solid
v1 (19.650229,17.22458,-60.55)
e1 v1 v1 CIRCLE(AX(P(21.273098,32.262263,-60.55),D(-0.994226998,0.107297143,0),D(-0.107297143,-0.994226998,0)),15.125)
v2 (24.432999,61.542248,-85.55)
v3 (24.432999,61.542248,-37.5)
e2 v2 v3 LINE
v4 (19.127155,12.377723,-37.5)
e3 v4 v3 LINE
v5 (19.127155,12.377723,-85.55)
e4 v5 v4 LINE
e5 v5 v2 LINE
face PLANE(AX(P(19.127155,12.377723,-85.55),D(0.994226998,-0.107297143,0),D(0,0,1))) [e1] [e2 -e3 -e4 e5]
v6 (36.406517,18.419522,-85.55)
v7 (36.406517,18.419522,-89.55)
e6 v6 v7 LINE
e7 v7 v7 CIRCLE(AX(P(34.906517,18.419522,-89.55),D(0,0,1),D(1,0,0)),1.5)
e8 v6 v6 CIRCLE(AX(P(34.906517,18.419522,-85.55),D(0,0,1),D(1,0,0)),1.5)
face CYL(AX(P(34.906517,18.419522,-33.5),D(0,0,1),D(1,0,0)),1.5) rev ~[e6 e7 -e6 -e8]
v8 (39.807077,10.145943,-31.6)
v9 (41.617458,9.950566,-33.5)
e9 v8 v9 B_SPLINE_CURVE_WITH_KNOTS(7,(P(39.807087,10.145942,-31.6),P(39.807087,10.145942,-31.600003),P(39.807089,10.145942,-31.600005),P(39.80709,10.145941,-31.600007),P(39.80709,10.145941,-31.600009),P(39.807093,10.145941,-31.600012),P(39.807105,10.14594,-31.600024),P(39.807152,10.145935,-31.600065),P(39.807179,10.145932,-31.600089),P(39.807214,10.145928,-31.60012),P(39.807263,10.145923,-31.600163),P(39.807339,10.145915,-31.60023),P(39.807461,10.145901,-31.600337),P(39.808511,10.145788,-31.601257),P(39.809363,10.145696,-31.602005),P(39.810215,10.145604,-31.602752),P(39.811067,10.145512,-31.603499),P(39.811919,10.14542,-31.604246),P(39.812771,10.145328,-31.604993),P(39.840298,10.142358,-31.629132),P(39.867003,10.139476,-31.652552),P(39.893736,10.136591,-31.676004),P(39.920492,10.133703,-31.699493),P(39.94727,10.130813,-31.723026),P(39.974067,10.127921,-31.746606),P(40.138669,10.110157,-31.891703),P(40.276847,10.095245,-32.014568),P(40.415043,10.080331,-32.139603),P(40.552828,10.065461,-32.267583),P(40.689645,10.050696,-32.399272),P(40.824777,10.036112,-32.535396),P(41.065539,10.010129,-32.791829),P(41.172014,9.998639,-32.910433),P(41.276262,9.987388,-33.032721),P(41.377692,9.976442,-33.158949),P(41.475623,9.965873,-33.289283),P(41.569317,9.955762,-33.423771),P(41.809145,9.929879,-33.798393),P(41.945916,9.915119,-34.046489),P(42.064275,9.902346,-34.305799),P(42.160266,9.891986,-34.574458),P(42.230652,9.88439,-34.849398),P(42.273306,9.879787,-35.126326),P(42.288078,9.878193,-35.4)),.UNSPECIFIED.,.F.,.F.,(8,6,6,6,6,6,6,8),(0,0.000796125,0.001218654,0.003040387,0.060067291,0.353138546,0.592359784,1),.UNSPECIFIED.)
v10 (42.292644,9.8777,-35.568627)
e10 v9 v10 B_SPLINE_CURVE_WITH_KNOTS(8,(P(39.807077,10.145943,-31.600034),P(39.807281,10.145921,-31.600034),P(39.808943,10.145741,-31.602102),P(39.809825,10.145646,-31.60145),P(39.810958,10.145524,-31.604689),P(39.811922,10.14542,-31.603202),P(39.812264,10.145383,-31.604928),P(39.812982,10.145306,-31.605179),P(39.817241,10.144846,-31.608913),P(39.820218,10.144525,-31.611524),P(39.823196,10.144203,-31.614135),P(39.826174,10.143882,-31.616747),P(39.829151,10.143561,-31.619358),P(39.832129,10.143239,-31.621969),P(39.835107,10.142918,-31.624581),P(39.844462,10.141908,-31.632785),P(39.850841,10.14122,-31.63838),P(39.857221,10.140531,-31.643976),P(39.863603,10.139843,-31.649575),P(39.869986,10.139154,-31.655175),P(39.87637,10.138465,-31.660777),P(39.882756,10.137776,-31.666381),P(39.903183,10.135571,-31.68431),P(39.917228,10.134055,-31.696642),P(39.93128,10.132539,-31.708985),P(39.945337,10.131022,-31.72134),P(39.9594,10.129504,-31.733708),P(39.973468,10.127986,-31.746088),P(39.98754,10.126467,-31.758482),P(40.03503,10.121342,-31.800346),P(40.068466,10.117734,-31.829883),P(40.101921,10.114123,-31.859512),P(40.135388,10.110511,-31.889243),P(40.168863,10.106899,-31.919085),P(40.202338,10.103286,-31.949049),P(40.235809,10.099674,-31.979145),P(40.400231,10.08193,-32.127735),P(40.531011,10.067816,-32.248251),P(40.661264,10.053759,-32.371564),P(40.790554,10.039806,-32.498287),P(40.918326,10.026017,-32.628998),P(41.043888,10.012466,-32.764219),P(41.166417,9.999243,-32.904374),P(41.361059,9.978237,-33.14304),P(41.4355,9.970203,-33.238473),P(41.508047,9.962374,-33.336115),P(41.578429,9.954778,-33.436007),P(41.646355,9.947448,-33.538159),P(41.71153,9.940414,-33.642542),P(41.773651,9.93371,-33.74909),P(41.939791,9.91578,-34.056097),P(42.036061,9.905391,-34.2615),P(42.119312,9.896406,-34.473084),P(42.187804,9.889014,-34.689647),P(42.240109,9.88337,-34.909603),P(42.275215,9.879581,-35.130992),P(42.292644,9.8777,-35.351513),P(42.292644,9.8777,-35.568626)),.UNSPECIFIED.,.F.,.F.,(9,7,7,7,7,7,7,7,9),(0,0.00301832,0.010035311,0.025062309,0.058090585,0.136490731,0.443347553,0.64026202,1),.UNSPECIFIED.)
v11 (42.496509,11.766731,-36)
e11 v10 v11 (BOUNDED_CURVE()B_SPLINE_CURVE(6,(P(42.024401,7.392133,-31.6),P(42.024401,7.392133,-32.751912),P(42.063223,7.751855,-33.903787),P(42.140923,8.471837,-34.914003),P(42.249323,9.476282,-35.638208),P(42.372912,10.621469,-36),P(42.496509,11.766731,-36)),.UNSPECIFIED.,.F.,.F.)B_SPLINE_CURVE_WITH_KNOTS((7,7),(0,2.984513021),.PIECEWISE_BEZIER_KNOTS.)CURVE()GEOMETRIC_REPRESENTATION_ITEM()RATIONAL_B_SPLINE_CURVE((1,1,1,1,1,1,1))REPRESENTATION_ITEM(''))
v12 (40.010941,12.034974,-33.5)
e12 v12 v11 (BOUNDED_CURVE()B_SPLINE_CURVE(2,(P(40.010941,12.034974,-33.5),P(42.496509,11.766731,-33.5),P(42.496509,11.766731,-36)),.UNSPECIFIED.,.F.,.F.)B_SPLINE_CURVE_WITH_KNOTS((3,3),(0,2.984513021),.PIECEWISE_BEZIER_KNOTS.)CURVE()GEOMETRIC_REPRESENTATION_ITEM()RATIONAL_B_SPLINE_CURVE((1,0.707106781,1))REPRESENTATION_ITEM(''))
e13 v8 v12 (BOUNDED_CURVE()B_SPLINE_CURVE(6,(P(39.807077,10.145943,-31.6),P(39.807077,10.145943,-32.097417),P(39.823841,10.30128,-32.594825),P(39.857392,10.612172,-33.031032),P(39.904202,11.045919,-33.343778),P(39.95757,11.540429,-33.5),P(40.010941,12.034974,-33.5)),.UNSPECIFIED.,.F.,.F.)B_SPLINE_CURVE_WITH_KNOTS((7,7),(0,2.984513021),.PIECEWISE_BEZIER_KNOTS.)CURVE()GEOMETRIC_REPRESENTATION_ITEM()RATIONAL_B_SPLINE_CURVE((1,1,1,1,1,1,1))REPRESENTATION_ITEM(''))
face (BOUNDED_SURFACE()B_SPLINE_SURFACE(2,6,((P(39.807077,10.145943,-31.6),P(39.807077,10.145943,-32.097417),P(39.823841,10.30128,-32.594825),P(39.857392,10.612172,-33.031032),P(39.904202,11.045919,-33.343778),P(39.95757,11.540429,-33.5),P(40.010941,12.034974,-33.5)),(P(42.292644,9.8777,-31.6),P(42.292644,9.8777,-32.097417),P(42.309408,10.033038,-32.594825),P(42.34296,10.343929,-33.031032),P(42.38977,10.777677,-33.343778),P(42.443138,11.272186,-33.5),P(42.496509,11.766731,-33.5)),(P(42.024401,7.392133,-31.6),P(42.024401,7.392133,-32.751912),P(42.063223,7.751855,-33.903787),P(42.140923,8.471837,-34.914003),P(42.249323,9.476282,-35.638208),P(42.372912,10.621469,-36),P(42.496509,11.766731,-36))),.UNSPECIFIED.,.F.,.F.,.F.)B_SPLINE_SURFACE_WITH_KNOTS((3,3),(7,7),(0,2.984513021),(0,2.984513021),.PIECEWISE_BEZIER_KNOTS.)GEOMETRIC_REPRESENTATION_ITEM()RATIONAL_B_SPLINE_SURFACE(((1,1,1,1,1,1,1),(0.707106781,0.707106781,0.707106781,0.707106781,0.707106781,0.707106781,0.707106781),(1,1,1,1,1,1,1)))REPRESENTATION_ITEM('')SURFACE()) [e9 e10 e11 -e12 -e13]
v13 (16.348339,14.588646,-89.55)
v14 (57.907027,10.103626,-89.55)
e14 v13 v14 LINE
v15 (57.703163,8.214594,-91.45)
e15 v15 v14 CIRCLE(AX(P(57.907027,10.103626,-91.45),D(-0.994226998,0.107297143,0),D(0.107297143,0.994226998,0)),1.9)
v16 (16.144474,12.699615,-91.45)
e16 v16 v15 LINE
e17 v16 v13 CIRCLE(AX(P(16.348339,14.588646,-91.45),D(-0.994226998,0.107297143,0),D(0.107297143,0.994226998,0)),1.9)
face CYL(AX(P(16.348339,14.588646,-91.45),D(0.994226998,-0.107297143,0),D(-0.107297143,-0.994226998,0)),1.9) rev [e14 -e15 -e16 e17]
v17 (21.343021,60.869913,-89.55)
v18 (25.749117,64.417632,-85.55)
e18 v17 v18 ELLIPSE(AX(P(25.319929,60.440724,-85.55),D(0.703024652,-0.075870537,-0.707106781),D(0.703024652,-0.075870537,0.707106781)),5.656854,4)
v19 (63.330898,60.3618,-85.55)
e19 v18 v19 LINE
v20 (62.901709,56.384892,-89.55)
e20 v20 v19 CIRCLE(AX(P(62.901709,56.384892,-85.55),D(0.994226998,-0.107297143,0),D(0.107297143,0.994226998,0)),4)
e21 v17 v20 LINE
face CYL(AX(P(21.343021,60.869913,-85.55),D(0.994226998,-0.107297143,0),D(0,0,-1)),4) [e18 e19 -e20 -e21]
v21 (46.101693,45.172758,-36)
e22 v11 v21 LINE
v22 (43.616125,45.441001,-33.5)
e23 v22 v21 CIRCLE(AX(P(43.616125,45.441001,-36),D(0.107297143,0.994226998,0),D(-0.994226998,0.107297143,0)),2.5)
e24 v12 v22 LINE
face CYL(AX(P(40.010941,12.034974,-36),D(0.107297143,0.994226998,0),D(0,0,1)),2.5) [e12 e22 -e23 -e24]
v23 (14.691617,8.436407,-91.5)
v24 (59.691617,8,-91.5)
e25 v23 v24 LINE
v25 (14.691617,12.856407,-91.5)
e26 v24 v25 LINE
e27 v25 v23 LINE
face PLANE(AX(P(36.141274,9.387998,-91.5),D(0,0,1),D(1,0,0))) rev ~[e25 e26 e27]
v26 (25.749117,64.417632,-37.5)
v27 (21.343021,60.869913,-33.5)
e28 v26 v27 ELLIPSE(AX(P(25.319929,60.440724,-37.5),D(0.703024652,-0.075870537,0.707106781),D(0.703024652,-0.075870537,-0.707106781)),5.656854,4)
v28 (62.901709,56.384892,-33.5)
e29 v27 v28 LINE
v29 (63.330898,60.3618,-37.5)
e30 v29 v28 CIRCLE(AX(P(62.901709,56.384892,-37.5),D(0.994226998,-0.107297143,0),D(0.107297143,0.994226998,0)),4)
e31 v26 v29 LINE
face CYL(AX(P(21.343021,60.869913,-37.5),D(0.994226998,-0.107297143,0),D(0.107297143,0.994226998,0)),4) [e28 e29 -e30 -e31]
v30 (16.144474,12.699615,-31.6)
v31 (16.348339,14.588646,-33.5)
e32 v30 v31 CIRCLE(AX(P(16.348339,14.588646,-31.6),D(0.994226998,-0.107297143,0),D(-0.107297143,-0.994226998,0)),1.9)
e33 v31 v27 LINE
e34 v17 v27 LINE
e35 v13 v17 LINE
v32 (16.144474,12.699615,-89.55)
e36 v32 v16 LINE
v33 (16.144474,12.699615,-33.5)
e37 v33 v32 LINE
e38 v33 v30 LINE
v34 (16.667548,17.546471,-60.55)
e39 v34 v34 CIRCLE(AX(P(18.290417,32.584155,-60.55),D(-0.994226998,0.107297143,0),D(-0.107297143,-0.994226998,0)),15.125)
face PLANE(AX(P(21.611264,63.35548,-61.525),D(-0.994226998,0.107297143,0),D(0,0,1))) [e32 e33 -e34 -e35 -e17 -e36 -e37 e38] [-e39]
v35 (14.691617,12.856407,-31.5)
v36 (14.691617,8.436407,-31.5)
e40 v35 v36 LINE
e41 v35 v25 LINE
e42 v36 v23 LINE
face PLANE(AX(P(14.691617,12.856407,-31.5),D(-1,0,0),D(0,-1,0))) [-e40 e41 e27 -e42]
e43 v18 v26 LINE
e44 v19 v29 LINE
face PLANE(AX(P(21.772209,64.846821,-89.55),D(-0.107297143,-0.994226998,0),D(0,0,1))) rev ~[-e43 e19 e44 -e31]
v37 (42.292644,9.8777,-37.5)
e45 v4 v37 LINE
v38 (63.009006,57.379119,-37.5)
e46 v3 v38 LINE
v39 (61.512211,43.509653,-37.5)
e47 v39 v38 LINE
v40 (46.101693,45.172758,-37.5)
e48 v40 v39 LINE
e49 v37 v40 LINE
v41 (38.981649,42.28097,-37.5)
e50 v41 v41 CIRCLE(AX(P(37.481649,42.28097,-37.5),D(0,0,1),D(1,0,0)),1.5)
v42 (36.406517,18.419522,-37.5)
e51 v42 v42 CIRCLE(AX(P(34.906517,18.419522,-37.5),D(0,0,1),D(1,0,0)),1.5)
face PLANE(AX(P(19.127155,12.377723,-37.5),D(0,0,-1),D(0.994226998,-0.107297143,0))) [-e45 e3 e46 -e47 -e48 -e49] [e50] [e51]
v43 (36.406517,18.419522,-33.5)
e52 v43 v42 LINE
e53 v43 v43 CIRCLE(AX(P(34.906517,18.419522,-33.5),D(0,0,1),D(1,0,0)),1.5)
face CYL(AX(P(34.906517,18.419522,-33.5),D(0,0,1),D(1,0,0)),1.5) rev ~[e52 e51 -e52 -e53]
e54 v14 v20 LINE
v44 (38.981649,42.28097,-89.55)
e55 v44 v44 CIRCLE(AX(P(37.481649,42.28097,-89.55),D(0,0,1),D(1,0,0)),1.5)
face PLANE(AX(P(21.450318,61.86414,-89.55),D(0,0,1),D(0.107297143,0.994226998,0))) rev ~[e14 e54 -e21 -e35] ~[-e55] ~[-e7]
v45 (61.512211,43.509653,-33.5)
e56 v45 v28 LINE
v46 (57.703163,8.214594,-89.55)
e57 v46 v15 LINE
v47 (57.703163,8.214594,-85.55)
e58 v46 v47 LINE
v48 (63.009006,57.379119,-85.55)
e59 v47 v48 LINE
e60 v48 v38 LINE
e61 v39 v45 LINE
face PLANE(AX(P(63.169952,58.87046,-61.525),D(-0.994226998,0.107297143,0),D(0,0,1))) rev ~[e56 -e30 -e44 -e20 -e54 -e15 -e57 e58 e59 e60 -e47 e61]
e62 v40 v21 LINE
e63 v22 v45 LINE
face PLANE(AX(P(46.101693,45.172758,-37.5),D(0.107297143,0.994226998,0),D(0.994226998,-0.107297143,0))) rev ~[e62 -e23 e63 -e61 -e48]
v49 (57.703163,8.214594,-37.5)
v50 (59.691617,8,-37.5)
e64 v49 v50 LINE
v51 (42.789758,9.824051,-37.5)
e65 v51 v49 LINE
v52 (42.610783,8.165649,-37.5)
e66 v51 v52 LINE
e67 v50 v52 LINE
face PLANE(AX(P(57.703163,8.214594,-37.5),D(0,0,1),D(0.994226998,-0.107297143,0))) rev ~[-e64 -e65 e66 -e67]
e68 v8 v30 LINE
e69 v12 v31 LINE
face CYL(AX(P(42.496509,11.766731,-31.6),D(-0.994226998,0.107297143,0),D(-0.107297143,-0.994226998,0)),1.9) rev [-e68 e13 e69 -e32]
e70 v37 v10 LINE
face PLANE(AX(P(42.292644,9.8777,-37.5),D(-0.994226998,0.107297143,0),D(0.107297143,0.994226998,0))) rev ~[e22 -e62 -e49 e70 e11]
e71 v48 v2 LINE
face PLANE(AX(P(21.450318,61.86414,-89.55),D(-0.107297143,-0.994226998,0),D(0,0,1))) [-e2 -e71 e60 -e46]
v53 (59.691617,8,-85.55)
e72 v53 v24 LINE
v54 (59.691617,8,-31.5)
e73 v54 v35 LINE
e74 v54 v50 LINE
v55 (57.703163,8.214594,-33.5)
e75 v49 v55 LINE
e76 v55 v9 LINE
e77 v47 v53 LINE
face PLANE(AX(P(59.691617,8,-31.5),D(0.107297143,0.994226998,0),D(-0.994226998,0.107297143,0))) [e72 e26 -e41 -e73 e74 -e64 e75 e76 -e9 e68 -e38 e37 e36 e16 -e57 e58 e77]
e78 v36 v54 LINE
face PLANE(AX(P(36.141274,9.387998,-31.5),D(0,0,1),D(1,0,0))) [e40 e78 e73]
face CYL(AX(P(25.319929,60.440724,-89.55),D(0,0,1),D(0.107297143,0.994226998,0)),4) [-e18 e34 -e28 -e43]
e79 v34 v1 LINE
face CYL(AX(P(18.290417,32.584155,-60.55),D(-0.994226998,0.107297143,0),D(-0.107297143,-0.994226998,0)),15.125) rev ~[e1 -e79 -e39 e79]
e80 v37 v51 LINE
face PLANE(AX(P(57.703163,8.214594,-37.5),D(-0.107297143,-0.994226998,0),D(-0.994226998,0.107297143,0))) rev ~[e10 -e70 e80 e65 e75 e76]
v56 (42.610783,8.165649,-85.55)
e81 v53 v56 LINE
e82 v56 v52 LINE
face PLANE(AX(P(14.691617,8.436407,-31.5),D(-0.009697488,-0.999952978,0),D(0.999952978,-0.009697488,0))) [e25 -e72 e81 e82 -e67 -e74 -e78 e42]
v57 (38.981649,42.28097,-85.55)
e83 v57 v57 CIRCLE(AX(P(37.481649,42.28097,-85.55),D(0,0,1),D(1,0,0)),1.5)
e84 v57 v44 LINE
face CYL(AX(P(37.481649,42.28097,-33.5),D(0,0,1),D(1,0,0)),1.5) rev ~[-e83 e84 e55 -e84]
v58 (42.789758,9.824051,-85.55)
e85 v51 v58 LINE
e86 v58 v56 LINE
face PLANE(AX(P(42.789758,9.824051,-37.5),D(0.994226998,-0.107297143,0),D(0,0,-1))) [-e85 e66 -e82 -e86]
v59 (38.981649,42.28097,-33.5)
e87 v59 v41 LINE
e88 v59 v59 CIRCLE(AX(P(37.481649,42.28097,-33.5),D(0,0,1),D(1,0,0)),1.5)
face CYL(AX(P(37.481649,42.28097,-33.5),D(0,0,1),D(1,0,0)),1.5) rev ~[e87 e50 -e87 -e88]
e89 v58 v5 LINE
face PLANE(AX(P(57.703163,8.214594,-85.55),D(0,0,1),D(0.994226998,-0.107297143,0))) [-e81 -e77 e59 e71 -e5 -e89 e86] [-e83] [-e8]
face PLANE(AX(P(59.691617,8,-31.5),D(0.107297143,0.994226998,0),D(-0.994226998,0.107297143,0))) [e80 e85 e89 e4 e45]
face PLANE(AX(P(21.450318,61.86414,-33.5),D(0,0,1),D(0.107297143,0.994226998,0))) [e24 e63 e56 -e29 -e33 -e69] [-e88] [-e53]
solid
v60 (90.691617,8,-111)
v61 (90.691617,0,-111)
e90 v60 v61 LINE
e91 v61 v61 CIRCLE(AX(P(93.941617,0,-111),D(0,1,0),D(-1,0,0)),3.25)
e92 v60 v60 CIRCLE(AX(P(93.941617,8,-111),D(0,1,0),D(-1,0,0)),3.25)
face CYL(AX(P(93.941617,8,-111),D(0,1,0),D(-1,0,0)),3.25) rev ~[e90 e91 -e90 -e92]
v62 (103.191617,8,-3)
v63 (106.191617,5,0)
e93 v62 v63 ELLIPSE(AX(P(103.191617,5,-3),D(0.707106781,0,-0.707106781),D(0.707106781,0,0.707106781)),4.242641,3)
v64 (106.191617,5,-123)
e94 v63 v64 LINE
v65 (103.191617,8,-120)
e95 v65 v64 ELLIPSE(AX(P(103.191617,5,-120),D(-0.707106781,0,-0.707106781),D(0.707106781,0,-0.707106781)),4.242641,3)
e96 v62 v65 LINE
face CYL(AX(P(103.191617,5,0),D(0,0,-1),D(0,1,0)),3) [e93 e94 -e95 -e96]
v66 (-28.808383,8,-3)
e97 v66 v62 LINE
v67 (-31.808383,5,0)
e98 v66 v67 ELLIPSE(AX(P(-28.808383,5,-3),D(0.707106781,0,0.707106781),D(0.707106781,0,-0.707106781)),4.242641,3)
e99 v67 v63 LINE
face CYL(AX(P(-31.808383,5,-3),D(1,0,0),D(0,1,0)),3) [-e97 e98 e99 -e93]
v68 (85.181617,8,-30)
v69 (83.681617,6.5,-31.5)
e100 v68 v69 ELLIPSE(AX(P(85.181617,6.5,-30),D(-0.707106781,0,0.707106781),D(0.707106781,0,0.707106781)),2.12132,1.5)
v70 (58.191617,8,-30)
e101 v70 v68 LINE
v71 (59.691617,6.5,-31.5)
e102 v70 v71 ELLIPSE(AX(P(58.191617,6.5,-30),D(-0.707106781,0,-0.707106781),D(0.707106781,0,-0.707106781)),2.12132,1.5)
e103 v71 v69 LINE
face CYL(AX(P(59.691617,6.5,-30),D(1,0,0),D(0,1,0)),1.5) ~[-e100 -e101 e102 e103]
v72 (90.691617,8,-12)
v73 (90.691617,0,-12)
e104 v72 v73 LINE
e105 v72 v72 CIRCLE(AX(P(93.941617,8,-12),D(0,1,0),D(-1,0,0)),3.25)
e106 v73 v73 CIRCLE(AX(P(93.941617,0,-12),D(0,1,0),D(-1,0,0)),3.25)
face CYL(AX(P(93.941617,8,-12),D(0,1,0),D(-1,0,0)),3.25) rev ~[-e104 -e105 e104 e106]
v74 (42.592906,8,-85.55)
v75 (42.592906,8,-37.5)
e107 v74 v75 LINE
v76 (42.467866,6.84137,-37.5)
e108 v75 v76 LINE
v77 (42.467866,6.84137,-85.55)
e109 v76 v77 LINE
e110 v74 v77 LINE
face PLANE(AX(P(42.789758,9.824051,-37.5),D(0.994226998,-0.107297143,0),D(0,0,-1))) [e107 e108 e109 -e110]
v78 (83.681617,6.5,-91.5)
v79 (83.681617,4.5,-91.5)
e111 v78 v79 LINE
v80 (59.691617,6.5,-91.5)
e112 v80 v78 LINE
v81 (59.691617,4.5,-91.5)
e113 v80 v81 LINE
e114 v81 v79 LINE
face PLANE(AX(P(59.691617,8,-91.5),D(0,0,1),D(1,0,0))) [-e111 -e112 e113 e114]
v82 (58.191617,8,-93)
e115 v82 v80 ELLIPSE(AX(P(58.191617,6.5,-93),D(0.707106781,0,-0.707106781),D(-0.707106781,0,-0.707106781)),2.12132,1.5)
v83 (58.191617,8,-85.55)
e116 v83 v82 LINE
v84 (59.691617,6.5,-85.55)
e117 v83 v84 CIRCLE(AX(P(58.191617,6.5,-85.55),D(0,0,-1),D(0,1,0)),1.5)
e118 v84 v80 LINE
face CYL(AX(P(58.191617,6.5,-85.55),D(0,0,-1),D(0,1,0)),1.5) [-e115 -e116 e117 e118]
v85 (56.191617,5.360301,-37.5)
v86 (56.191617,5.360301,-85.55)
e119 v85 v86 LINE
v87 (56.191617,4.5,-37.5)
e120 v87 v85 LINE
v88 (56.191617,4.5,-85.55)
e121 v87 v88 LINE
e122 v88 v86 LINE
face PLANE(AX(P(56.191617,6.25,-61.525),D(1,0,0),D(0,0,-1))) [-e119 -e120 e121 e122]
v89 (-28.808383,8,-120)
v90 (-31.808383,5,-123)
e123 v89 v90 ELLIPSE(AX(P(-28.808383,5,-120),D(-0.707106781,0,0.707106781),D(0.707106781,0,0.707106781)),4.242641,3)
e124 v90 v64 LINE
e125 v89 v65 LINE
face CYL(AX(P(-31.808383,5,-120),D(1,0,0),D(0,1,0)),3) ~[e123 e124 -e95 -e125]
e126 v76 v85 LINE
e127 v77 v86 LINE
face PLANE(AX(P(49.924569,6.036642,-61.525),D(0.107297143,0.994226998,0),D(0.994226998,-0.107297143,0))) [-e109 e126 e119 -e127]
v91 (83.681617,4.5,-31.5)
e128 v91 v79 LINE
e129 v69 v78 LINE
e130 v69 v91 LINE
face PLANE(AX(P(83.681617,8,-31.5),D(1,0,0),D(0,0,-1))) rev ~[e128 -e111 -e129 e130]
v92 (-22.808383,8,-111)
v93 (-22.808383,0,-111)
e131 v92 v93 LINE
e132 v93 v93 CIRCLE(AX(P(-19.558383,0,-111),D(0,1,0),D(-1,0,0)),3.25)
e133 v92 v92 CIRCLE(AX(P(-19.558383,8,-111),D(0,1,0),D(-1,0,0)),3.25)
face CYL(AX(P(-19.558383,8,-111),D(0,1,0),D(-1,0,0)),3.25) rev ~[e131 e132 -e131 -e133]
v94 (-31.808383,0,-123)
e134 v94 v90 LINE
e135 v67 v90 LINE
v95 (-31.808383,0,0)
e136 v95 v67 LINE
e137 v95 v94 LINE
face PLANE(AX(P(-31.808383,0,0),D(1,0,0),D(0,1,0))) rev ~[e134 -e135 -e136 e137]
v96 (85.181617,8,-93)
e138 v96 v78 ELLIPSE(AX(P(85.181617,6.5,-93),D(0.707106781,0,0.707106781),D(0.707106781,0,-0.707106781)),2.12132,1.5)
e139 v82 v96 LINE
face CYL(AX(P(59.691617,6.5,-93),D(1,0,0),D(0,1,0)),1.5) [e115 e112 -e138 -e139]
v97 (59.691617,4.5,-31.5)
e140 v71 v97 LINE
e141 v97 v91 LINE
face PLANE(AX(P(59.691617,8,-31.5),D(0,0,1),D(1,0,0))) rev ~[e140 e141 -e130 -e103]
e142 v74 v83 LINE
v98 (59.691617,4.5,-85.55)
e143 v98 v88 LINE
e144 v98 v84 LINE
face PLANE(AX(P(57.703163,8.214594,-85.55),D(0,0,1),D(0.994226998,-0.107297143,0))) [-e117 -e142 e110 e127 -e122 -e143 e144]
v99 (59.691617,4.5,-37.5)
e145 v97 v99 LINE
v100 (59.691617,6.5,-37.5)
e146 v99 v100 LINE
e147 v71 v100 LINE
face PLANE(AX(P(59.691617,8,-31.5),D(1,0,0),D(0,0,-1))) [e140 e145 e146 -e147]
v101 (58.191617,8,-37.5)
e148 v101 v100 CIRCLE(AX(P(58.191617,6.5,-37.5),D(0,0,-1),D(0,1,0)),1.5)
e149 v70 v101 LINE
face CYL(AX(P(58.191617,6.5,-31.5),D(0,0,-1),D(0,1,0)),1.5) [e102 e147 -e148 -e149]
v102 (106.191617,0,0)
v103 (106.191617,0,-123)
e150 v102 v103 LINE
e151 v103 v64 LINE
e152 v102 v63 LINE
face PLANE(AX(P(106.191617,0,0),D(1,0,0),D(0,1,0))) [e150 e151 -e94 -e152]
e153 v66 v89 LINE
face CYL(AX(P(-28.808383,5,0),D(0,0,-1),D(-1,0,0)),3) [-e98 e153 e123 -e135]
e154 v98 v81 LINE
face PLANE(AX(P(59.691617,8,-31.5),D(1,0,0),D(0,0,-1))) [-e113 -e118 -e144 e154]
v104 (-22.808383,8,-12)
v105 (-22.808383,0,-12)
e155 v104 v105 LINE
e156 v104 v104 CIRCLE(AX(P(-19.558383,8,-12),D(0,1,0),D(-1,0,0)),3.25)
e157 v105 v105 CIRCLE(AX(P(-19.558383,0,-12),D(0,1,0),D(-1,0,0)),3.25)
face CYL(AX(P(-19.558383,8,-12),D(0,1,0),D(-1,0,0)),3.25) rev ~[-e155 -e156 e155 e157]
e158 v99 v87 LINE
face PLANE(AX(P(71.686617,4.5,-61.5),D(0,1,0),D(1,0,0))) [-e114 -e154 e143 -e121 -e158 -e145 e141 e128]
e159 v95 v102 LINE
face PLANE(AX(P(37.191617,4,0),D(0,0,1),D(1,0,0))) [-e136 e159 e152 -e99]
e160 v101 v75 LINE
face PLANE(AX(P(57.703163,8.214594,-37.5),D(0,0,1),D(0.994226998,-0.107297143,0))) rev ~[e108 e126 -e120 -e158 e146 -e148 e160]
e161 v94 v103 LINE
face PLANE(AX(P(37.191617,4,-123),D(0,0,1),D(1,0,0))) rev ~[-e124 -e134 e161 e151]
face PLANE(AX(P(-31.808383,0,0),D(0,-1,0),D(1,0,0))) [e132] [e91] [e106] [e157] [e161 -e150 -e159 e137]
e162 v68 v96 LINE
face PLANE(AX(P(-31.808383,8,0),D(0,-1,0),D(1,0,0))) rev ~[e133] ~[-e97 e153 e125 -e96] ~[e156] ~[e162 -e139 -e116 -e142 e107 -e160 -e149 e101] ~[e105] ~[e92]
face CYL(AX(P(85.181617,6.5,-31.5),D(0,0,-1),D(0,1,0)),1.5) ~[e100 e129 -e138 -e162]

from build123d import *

# Parameters (mm, degrees)
SKETCH1_W           = 138
SKETCH1_H           = 8
BOSS_EXTRUDE1_DEPTH = 123
SKETCH2_R           = 3.25
CUT_EXTRUDE1_DEPTH  = 163.694989079
BOSS_EXTRUDE2_DEPTH = 60
BOSS_EXTRUDE3_DEPTH = 49.45
SKETCH6_R           = 1.5
CUT_EXTRUDE2_DEPTH  = 153.033158476
CUT_EXTRUDE3_DEPTH  = 4
SKETCH9_R           = 15.125
CUT_EXTRUDE4_DEPTH  = 3
SKETCH10_W          = 15
SKETCH10_H          = 48.05
CUT_EXTRUDE5_DEPTH  = 3
SKETCH11_W          = 56.05
SKETCH11_H          = 3
BOSS_EXTRUDE4_DEPTH = 41.8
SKETCH12_W          = 23.99
SKETCH12_H          = 60
CUT_EXTRUDE6_DEPTH  = 3.5
FILLET1_R           = 4
FILLET3_R           = 3
FILLET5_R           = 1.9
FILLET6_R           = 1.9
FILLET7_R           = 2.5
SKETCH13_W          = 2
SKETCH13_H          = 48.05
CUT_EXTRUDE7_DEPTH  = 3.5
SKETCH14_W          = 48.05
SKETCH14_H          = 3.5
CUT_EXTRUDE8_DEPTH  = 3.5
FILLET8_R           = 1.5


with BuildPart() as part:
    # Sketch1 → Boss-Extrude1 (new body)
    with BuildSketch(Plane.XY):
        with Locations((37.191616766, 4)):
            Rectangle(SKETCH1_W, SKETCH1_H)
    extrude(amount=-BOSS_EXTRUDE1_DEPTH)

    # Sketch2 → Cut-Extrude1 (cut, through all)
    with BuildSketch(Plane(origin=(0, 8, 0), x_dir=(1, 0, 0), z_dir=(0, 1, 0))):
        with Locations(Location((-19.558383234, 12, 0), (0, 0, 180))):
            Circle(SKETCH2_R)
        with Locations(Location((93.941616766, 12, 0), (0, 0, 180))):
            Circle(SKETCH2_R)
        with Locations(Location((93.941616766, 111, 0), (0, 0, 180))):
            Circle(SKETCH2_R)
        with Locations(Location((-19.558383234, 111, 0), (0, 0, 180))):
            Circle(SKETCH2_R)
    extrude(amount=-CUT_EXTRUDE1_DEPTH, mode=Mode.SUBTRACT)


with BuildPart() as body_2:
    # Sketch3 → Boss-Extrude2 (new body)
    with BuildSketch(Plane.XY.offset(-31.5)):
        Polygon((14.691616766, 8.436407474), (59.691616766, 8), (14.691616766, 12.856407474), align=None)
    extrude(amount=-BOSS_EXTRUDE2_DEPTH)

    # Sketch5 → Boss-Extrude3 (add)
    with BuildSketch(Plane(origin=(1.540632023, 14.275663932, 0), x_dir=(0.9942269978025435, -0.10729714274173967, 0), z_dir=(0.10729714274173965, 0.9942269978025434, 0))):
        Polygon((56.48863979, 33.5), (14.68863979, 33.5), (14.68863979, 89.55), (56.48863979, 89.55), (56.48863979, 85.55), (17.68863979, 85.55), (17.68863979, 37.5), (56.48863979, 37.5), align=None)
    extrude(amount=BOSS_EXTRUDE3_DEPTH)

    # Sketch6 → Cut-Extrude2 (cut, through all)
    with BuildSketch(Plane.XY.offset(-33.5)):
        with Locations((34.906517302, 18.41952228)):
            Circle(SKETCH6_R)
        with Locations((37.481648728, 42.280970227)):
            Circle(SKETCH6_R)
    extrude(amount=-CUT_EXTRUDE2_DEPTH, mode=Mode.SUBTRACT)

    # Sketch8 → Cut-Extrude3 (cut)
    with BuildSketch(Plane(origin=(0, 0, -37.5), x_dir=(-1, 0, 0), z_dir=(0, 0, -1))):
        Polygon((-57.703162771, 8.214594285), (-42.292644305, 9.877699998), (-46.101692872, 45.17275842), (-61.512211338, 43.509652707), align=None)
    extrude(amount=-CUT_EXTRUDE3_DEPTH, mode=Mode.SUBTRACT)

    # Sketch9 → Cut-Extrude4 (cut)
    with BuildSketch(Plane(origin=(14.60384224, -1.57604908, 0), x_dir=(0, 0, 1), z_dir=(-0.9942269978025434, 0.10729714274173965, 0))):
        with Locations(Location((-60.55, 34.358555907, 0), (0, 0, 270))):
            Circle(SKETCH9_R)
    extrude(amount=-CUT_EXTRUDE4_DEPTH, mode=Mode.SUBTRACT)


with BuildPart() as cut_extrude5_tool:
    # Sketch10 → Cut-Extrude5 (new body)
    with BuildSketch(Plane(origin=(1.540632023, 14.275663932, 0), x_dir=(0.9942269978025435, -0.10729714274173967, 0), z_dir=(0.10729714274173965, 0.9942269978025434, 0))):
        with Locations((48.98863979, 61.525)):
            Rectangle(SKETCH10_W, SKETCH10_H)
    extrude(amount=-CUT_EXTRUDE5_DEPTH)


with BuildPart() as part_1:
    add(part.part)

    # Cut-Extrude5: cut by cut_extrude5_tool
    add(cut_extrude5_tool.part, mode=Mode.SUBTRACT)

    # Sketch12 → Cut-Extrude6 (cut)
    with BuildSketch(Plane(origin=(0, 8, 0), x_dir=(1, 0, 0), z_dir=(0, 1, 0))):
        with Locations((71.686616766, 61.5)):
            Rectangle(SKETCH12_W, SKETCH12_H)
    extrude(amount=-CUT_EXTRUDE6_DEPTH, mode=Mode.SUBTRACT)

    # Fillet3
    fillet3_edges = [part_1.edges().sort_by_distance(p)[0] for p in [
        (37.191616766, 8, -123),
        (37.191616766, 8, 0),
        (-31.808383234, 8, -61.5),
        (106.191616766, 8, -61.5),
    ]]
    fillet(fillet3_edges, radius=FILLET3_R)


with BuildPart() as body_2_1:
    add(body_2.part)

    # Cut-Extrude5: cut by cut_extrude5_tool
    add(cut_extrude5_tool.part, mode=Mode.SUBTRACT)

    # Sketch11 → Boss-Extrude4 (add)
    with BuildSketch(Plane(origin=(14.60384224, -1.57604908, 0), x_dir=(0, 0, 1), z_dir=(-0.9942269978025434, 0.10729714274173965, 0))):
        with Locations((-61.525, 65.308555907)):
            Rectangle(SKETCH11_W, SKETCH11_H)
    extrude(amount=-BOSS_EXTRUDE4_DEPTH)

    # Fillet1
    fillet1_edges = [body_2_1.edges().sort_by_distance(p)[0] for p in [
        (42.551553654, 62.604310604, -89.55),
        (42.551553654, 62.604310604, -33.5),
        (21.7722094, 64.846820887, -61.525),
    ]]
    fillet(fillet1_edges, radius=FILLET1_R)

    # Fillet5
    fillet5_edges = [body_2_1.edges().sort_by_distance(p)[0] for p in [
        (29.218559284, 11.288657425, -33.5),
    ]]
    fillet(fillet5_edges, radius=FILLET5_R)

    # Fillet6
    fillet6_edges = [body_2_1.edges().sort_by_distance(p)[0] for p in [
        (36.923818517, 10.457104569, -89.55),
    ]]
    fillet(fillet6_edges, radius=FILLET6_R)

    # Fillet7
    fillet7_edges = [body_2_1.edges().sort_by_distance(p)[0] for p in [
        (44.299100874, 28.469744857, -33.5),
        (42.352354855, 10.430984455, -32.943502884),
    ]]
    fillet(fillet7_edges, radius=FILLET7_R)


with BuildPart() as cut_extrude7_tool:
    # Sketch13 → Cut-Extrude7 (new body)
    with BuildSketch(Plane(origin=(1.540632023, 14.275663932, 0), x_dir=(0.9942269978025435, -0.10729714274173967, 0), z_dir=(0.10729714274173965, 0.9942269978025434, 0))):
        with Locations((57.48863979, 61.525)):
            Rectangle(SKETCH13_W, SKETCH13_H)
    extrude(amount=-CUT_EXTRUDE7_DEPTH)


with BuildPart() as part_2:
    add(part_1.part)

    # Cut-Extrude7: cut by cut_extrude7_tool
    add(cut_extrude7_tool.part, mode=Mode.SUBTRACT)

    # Sketch14 → Cut-Extrude8 (cut)
    with BuildSketch(Plane(origin=(59.691616766, 0, 0), x_dir=(0, 0, -1), z_dir=(1, 0, 0))):
        with Locations((61.525, 6.25)):
            Rectangle(SKETCH14_W, SKETCH14_H)
    extrude(amount=-CUT_EXTRUDE8_DEPTH, mode=Mode.SUBTRACT)

    # Fillet8
    fillet8_edges = [part_2.edges().sort_by_distance(p)[0] for p in [
        (59.691616766, 8, -88.525),
        (71.686616766, 8, -31.5),
        (83.681616766, 8, -61.5),
        (71.686616766, 8, -91.5),
        (59.691616766, 8, -34.5),
    ]]
    fillet(fillet8_edges, radius=FILLET8_R)


with BuildPart() as body_2_2:
    add(body_2_1.part)

    # Cut-Extrude7: cut by cut_extrude7_tool
    add(cut_extrude7_tool.part, mode=Mode.SUBTRACT)


solid = Compound([part_2.part, body_2_2.part])
